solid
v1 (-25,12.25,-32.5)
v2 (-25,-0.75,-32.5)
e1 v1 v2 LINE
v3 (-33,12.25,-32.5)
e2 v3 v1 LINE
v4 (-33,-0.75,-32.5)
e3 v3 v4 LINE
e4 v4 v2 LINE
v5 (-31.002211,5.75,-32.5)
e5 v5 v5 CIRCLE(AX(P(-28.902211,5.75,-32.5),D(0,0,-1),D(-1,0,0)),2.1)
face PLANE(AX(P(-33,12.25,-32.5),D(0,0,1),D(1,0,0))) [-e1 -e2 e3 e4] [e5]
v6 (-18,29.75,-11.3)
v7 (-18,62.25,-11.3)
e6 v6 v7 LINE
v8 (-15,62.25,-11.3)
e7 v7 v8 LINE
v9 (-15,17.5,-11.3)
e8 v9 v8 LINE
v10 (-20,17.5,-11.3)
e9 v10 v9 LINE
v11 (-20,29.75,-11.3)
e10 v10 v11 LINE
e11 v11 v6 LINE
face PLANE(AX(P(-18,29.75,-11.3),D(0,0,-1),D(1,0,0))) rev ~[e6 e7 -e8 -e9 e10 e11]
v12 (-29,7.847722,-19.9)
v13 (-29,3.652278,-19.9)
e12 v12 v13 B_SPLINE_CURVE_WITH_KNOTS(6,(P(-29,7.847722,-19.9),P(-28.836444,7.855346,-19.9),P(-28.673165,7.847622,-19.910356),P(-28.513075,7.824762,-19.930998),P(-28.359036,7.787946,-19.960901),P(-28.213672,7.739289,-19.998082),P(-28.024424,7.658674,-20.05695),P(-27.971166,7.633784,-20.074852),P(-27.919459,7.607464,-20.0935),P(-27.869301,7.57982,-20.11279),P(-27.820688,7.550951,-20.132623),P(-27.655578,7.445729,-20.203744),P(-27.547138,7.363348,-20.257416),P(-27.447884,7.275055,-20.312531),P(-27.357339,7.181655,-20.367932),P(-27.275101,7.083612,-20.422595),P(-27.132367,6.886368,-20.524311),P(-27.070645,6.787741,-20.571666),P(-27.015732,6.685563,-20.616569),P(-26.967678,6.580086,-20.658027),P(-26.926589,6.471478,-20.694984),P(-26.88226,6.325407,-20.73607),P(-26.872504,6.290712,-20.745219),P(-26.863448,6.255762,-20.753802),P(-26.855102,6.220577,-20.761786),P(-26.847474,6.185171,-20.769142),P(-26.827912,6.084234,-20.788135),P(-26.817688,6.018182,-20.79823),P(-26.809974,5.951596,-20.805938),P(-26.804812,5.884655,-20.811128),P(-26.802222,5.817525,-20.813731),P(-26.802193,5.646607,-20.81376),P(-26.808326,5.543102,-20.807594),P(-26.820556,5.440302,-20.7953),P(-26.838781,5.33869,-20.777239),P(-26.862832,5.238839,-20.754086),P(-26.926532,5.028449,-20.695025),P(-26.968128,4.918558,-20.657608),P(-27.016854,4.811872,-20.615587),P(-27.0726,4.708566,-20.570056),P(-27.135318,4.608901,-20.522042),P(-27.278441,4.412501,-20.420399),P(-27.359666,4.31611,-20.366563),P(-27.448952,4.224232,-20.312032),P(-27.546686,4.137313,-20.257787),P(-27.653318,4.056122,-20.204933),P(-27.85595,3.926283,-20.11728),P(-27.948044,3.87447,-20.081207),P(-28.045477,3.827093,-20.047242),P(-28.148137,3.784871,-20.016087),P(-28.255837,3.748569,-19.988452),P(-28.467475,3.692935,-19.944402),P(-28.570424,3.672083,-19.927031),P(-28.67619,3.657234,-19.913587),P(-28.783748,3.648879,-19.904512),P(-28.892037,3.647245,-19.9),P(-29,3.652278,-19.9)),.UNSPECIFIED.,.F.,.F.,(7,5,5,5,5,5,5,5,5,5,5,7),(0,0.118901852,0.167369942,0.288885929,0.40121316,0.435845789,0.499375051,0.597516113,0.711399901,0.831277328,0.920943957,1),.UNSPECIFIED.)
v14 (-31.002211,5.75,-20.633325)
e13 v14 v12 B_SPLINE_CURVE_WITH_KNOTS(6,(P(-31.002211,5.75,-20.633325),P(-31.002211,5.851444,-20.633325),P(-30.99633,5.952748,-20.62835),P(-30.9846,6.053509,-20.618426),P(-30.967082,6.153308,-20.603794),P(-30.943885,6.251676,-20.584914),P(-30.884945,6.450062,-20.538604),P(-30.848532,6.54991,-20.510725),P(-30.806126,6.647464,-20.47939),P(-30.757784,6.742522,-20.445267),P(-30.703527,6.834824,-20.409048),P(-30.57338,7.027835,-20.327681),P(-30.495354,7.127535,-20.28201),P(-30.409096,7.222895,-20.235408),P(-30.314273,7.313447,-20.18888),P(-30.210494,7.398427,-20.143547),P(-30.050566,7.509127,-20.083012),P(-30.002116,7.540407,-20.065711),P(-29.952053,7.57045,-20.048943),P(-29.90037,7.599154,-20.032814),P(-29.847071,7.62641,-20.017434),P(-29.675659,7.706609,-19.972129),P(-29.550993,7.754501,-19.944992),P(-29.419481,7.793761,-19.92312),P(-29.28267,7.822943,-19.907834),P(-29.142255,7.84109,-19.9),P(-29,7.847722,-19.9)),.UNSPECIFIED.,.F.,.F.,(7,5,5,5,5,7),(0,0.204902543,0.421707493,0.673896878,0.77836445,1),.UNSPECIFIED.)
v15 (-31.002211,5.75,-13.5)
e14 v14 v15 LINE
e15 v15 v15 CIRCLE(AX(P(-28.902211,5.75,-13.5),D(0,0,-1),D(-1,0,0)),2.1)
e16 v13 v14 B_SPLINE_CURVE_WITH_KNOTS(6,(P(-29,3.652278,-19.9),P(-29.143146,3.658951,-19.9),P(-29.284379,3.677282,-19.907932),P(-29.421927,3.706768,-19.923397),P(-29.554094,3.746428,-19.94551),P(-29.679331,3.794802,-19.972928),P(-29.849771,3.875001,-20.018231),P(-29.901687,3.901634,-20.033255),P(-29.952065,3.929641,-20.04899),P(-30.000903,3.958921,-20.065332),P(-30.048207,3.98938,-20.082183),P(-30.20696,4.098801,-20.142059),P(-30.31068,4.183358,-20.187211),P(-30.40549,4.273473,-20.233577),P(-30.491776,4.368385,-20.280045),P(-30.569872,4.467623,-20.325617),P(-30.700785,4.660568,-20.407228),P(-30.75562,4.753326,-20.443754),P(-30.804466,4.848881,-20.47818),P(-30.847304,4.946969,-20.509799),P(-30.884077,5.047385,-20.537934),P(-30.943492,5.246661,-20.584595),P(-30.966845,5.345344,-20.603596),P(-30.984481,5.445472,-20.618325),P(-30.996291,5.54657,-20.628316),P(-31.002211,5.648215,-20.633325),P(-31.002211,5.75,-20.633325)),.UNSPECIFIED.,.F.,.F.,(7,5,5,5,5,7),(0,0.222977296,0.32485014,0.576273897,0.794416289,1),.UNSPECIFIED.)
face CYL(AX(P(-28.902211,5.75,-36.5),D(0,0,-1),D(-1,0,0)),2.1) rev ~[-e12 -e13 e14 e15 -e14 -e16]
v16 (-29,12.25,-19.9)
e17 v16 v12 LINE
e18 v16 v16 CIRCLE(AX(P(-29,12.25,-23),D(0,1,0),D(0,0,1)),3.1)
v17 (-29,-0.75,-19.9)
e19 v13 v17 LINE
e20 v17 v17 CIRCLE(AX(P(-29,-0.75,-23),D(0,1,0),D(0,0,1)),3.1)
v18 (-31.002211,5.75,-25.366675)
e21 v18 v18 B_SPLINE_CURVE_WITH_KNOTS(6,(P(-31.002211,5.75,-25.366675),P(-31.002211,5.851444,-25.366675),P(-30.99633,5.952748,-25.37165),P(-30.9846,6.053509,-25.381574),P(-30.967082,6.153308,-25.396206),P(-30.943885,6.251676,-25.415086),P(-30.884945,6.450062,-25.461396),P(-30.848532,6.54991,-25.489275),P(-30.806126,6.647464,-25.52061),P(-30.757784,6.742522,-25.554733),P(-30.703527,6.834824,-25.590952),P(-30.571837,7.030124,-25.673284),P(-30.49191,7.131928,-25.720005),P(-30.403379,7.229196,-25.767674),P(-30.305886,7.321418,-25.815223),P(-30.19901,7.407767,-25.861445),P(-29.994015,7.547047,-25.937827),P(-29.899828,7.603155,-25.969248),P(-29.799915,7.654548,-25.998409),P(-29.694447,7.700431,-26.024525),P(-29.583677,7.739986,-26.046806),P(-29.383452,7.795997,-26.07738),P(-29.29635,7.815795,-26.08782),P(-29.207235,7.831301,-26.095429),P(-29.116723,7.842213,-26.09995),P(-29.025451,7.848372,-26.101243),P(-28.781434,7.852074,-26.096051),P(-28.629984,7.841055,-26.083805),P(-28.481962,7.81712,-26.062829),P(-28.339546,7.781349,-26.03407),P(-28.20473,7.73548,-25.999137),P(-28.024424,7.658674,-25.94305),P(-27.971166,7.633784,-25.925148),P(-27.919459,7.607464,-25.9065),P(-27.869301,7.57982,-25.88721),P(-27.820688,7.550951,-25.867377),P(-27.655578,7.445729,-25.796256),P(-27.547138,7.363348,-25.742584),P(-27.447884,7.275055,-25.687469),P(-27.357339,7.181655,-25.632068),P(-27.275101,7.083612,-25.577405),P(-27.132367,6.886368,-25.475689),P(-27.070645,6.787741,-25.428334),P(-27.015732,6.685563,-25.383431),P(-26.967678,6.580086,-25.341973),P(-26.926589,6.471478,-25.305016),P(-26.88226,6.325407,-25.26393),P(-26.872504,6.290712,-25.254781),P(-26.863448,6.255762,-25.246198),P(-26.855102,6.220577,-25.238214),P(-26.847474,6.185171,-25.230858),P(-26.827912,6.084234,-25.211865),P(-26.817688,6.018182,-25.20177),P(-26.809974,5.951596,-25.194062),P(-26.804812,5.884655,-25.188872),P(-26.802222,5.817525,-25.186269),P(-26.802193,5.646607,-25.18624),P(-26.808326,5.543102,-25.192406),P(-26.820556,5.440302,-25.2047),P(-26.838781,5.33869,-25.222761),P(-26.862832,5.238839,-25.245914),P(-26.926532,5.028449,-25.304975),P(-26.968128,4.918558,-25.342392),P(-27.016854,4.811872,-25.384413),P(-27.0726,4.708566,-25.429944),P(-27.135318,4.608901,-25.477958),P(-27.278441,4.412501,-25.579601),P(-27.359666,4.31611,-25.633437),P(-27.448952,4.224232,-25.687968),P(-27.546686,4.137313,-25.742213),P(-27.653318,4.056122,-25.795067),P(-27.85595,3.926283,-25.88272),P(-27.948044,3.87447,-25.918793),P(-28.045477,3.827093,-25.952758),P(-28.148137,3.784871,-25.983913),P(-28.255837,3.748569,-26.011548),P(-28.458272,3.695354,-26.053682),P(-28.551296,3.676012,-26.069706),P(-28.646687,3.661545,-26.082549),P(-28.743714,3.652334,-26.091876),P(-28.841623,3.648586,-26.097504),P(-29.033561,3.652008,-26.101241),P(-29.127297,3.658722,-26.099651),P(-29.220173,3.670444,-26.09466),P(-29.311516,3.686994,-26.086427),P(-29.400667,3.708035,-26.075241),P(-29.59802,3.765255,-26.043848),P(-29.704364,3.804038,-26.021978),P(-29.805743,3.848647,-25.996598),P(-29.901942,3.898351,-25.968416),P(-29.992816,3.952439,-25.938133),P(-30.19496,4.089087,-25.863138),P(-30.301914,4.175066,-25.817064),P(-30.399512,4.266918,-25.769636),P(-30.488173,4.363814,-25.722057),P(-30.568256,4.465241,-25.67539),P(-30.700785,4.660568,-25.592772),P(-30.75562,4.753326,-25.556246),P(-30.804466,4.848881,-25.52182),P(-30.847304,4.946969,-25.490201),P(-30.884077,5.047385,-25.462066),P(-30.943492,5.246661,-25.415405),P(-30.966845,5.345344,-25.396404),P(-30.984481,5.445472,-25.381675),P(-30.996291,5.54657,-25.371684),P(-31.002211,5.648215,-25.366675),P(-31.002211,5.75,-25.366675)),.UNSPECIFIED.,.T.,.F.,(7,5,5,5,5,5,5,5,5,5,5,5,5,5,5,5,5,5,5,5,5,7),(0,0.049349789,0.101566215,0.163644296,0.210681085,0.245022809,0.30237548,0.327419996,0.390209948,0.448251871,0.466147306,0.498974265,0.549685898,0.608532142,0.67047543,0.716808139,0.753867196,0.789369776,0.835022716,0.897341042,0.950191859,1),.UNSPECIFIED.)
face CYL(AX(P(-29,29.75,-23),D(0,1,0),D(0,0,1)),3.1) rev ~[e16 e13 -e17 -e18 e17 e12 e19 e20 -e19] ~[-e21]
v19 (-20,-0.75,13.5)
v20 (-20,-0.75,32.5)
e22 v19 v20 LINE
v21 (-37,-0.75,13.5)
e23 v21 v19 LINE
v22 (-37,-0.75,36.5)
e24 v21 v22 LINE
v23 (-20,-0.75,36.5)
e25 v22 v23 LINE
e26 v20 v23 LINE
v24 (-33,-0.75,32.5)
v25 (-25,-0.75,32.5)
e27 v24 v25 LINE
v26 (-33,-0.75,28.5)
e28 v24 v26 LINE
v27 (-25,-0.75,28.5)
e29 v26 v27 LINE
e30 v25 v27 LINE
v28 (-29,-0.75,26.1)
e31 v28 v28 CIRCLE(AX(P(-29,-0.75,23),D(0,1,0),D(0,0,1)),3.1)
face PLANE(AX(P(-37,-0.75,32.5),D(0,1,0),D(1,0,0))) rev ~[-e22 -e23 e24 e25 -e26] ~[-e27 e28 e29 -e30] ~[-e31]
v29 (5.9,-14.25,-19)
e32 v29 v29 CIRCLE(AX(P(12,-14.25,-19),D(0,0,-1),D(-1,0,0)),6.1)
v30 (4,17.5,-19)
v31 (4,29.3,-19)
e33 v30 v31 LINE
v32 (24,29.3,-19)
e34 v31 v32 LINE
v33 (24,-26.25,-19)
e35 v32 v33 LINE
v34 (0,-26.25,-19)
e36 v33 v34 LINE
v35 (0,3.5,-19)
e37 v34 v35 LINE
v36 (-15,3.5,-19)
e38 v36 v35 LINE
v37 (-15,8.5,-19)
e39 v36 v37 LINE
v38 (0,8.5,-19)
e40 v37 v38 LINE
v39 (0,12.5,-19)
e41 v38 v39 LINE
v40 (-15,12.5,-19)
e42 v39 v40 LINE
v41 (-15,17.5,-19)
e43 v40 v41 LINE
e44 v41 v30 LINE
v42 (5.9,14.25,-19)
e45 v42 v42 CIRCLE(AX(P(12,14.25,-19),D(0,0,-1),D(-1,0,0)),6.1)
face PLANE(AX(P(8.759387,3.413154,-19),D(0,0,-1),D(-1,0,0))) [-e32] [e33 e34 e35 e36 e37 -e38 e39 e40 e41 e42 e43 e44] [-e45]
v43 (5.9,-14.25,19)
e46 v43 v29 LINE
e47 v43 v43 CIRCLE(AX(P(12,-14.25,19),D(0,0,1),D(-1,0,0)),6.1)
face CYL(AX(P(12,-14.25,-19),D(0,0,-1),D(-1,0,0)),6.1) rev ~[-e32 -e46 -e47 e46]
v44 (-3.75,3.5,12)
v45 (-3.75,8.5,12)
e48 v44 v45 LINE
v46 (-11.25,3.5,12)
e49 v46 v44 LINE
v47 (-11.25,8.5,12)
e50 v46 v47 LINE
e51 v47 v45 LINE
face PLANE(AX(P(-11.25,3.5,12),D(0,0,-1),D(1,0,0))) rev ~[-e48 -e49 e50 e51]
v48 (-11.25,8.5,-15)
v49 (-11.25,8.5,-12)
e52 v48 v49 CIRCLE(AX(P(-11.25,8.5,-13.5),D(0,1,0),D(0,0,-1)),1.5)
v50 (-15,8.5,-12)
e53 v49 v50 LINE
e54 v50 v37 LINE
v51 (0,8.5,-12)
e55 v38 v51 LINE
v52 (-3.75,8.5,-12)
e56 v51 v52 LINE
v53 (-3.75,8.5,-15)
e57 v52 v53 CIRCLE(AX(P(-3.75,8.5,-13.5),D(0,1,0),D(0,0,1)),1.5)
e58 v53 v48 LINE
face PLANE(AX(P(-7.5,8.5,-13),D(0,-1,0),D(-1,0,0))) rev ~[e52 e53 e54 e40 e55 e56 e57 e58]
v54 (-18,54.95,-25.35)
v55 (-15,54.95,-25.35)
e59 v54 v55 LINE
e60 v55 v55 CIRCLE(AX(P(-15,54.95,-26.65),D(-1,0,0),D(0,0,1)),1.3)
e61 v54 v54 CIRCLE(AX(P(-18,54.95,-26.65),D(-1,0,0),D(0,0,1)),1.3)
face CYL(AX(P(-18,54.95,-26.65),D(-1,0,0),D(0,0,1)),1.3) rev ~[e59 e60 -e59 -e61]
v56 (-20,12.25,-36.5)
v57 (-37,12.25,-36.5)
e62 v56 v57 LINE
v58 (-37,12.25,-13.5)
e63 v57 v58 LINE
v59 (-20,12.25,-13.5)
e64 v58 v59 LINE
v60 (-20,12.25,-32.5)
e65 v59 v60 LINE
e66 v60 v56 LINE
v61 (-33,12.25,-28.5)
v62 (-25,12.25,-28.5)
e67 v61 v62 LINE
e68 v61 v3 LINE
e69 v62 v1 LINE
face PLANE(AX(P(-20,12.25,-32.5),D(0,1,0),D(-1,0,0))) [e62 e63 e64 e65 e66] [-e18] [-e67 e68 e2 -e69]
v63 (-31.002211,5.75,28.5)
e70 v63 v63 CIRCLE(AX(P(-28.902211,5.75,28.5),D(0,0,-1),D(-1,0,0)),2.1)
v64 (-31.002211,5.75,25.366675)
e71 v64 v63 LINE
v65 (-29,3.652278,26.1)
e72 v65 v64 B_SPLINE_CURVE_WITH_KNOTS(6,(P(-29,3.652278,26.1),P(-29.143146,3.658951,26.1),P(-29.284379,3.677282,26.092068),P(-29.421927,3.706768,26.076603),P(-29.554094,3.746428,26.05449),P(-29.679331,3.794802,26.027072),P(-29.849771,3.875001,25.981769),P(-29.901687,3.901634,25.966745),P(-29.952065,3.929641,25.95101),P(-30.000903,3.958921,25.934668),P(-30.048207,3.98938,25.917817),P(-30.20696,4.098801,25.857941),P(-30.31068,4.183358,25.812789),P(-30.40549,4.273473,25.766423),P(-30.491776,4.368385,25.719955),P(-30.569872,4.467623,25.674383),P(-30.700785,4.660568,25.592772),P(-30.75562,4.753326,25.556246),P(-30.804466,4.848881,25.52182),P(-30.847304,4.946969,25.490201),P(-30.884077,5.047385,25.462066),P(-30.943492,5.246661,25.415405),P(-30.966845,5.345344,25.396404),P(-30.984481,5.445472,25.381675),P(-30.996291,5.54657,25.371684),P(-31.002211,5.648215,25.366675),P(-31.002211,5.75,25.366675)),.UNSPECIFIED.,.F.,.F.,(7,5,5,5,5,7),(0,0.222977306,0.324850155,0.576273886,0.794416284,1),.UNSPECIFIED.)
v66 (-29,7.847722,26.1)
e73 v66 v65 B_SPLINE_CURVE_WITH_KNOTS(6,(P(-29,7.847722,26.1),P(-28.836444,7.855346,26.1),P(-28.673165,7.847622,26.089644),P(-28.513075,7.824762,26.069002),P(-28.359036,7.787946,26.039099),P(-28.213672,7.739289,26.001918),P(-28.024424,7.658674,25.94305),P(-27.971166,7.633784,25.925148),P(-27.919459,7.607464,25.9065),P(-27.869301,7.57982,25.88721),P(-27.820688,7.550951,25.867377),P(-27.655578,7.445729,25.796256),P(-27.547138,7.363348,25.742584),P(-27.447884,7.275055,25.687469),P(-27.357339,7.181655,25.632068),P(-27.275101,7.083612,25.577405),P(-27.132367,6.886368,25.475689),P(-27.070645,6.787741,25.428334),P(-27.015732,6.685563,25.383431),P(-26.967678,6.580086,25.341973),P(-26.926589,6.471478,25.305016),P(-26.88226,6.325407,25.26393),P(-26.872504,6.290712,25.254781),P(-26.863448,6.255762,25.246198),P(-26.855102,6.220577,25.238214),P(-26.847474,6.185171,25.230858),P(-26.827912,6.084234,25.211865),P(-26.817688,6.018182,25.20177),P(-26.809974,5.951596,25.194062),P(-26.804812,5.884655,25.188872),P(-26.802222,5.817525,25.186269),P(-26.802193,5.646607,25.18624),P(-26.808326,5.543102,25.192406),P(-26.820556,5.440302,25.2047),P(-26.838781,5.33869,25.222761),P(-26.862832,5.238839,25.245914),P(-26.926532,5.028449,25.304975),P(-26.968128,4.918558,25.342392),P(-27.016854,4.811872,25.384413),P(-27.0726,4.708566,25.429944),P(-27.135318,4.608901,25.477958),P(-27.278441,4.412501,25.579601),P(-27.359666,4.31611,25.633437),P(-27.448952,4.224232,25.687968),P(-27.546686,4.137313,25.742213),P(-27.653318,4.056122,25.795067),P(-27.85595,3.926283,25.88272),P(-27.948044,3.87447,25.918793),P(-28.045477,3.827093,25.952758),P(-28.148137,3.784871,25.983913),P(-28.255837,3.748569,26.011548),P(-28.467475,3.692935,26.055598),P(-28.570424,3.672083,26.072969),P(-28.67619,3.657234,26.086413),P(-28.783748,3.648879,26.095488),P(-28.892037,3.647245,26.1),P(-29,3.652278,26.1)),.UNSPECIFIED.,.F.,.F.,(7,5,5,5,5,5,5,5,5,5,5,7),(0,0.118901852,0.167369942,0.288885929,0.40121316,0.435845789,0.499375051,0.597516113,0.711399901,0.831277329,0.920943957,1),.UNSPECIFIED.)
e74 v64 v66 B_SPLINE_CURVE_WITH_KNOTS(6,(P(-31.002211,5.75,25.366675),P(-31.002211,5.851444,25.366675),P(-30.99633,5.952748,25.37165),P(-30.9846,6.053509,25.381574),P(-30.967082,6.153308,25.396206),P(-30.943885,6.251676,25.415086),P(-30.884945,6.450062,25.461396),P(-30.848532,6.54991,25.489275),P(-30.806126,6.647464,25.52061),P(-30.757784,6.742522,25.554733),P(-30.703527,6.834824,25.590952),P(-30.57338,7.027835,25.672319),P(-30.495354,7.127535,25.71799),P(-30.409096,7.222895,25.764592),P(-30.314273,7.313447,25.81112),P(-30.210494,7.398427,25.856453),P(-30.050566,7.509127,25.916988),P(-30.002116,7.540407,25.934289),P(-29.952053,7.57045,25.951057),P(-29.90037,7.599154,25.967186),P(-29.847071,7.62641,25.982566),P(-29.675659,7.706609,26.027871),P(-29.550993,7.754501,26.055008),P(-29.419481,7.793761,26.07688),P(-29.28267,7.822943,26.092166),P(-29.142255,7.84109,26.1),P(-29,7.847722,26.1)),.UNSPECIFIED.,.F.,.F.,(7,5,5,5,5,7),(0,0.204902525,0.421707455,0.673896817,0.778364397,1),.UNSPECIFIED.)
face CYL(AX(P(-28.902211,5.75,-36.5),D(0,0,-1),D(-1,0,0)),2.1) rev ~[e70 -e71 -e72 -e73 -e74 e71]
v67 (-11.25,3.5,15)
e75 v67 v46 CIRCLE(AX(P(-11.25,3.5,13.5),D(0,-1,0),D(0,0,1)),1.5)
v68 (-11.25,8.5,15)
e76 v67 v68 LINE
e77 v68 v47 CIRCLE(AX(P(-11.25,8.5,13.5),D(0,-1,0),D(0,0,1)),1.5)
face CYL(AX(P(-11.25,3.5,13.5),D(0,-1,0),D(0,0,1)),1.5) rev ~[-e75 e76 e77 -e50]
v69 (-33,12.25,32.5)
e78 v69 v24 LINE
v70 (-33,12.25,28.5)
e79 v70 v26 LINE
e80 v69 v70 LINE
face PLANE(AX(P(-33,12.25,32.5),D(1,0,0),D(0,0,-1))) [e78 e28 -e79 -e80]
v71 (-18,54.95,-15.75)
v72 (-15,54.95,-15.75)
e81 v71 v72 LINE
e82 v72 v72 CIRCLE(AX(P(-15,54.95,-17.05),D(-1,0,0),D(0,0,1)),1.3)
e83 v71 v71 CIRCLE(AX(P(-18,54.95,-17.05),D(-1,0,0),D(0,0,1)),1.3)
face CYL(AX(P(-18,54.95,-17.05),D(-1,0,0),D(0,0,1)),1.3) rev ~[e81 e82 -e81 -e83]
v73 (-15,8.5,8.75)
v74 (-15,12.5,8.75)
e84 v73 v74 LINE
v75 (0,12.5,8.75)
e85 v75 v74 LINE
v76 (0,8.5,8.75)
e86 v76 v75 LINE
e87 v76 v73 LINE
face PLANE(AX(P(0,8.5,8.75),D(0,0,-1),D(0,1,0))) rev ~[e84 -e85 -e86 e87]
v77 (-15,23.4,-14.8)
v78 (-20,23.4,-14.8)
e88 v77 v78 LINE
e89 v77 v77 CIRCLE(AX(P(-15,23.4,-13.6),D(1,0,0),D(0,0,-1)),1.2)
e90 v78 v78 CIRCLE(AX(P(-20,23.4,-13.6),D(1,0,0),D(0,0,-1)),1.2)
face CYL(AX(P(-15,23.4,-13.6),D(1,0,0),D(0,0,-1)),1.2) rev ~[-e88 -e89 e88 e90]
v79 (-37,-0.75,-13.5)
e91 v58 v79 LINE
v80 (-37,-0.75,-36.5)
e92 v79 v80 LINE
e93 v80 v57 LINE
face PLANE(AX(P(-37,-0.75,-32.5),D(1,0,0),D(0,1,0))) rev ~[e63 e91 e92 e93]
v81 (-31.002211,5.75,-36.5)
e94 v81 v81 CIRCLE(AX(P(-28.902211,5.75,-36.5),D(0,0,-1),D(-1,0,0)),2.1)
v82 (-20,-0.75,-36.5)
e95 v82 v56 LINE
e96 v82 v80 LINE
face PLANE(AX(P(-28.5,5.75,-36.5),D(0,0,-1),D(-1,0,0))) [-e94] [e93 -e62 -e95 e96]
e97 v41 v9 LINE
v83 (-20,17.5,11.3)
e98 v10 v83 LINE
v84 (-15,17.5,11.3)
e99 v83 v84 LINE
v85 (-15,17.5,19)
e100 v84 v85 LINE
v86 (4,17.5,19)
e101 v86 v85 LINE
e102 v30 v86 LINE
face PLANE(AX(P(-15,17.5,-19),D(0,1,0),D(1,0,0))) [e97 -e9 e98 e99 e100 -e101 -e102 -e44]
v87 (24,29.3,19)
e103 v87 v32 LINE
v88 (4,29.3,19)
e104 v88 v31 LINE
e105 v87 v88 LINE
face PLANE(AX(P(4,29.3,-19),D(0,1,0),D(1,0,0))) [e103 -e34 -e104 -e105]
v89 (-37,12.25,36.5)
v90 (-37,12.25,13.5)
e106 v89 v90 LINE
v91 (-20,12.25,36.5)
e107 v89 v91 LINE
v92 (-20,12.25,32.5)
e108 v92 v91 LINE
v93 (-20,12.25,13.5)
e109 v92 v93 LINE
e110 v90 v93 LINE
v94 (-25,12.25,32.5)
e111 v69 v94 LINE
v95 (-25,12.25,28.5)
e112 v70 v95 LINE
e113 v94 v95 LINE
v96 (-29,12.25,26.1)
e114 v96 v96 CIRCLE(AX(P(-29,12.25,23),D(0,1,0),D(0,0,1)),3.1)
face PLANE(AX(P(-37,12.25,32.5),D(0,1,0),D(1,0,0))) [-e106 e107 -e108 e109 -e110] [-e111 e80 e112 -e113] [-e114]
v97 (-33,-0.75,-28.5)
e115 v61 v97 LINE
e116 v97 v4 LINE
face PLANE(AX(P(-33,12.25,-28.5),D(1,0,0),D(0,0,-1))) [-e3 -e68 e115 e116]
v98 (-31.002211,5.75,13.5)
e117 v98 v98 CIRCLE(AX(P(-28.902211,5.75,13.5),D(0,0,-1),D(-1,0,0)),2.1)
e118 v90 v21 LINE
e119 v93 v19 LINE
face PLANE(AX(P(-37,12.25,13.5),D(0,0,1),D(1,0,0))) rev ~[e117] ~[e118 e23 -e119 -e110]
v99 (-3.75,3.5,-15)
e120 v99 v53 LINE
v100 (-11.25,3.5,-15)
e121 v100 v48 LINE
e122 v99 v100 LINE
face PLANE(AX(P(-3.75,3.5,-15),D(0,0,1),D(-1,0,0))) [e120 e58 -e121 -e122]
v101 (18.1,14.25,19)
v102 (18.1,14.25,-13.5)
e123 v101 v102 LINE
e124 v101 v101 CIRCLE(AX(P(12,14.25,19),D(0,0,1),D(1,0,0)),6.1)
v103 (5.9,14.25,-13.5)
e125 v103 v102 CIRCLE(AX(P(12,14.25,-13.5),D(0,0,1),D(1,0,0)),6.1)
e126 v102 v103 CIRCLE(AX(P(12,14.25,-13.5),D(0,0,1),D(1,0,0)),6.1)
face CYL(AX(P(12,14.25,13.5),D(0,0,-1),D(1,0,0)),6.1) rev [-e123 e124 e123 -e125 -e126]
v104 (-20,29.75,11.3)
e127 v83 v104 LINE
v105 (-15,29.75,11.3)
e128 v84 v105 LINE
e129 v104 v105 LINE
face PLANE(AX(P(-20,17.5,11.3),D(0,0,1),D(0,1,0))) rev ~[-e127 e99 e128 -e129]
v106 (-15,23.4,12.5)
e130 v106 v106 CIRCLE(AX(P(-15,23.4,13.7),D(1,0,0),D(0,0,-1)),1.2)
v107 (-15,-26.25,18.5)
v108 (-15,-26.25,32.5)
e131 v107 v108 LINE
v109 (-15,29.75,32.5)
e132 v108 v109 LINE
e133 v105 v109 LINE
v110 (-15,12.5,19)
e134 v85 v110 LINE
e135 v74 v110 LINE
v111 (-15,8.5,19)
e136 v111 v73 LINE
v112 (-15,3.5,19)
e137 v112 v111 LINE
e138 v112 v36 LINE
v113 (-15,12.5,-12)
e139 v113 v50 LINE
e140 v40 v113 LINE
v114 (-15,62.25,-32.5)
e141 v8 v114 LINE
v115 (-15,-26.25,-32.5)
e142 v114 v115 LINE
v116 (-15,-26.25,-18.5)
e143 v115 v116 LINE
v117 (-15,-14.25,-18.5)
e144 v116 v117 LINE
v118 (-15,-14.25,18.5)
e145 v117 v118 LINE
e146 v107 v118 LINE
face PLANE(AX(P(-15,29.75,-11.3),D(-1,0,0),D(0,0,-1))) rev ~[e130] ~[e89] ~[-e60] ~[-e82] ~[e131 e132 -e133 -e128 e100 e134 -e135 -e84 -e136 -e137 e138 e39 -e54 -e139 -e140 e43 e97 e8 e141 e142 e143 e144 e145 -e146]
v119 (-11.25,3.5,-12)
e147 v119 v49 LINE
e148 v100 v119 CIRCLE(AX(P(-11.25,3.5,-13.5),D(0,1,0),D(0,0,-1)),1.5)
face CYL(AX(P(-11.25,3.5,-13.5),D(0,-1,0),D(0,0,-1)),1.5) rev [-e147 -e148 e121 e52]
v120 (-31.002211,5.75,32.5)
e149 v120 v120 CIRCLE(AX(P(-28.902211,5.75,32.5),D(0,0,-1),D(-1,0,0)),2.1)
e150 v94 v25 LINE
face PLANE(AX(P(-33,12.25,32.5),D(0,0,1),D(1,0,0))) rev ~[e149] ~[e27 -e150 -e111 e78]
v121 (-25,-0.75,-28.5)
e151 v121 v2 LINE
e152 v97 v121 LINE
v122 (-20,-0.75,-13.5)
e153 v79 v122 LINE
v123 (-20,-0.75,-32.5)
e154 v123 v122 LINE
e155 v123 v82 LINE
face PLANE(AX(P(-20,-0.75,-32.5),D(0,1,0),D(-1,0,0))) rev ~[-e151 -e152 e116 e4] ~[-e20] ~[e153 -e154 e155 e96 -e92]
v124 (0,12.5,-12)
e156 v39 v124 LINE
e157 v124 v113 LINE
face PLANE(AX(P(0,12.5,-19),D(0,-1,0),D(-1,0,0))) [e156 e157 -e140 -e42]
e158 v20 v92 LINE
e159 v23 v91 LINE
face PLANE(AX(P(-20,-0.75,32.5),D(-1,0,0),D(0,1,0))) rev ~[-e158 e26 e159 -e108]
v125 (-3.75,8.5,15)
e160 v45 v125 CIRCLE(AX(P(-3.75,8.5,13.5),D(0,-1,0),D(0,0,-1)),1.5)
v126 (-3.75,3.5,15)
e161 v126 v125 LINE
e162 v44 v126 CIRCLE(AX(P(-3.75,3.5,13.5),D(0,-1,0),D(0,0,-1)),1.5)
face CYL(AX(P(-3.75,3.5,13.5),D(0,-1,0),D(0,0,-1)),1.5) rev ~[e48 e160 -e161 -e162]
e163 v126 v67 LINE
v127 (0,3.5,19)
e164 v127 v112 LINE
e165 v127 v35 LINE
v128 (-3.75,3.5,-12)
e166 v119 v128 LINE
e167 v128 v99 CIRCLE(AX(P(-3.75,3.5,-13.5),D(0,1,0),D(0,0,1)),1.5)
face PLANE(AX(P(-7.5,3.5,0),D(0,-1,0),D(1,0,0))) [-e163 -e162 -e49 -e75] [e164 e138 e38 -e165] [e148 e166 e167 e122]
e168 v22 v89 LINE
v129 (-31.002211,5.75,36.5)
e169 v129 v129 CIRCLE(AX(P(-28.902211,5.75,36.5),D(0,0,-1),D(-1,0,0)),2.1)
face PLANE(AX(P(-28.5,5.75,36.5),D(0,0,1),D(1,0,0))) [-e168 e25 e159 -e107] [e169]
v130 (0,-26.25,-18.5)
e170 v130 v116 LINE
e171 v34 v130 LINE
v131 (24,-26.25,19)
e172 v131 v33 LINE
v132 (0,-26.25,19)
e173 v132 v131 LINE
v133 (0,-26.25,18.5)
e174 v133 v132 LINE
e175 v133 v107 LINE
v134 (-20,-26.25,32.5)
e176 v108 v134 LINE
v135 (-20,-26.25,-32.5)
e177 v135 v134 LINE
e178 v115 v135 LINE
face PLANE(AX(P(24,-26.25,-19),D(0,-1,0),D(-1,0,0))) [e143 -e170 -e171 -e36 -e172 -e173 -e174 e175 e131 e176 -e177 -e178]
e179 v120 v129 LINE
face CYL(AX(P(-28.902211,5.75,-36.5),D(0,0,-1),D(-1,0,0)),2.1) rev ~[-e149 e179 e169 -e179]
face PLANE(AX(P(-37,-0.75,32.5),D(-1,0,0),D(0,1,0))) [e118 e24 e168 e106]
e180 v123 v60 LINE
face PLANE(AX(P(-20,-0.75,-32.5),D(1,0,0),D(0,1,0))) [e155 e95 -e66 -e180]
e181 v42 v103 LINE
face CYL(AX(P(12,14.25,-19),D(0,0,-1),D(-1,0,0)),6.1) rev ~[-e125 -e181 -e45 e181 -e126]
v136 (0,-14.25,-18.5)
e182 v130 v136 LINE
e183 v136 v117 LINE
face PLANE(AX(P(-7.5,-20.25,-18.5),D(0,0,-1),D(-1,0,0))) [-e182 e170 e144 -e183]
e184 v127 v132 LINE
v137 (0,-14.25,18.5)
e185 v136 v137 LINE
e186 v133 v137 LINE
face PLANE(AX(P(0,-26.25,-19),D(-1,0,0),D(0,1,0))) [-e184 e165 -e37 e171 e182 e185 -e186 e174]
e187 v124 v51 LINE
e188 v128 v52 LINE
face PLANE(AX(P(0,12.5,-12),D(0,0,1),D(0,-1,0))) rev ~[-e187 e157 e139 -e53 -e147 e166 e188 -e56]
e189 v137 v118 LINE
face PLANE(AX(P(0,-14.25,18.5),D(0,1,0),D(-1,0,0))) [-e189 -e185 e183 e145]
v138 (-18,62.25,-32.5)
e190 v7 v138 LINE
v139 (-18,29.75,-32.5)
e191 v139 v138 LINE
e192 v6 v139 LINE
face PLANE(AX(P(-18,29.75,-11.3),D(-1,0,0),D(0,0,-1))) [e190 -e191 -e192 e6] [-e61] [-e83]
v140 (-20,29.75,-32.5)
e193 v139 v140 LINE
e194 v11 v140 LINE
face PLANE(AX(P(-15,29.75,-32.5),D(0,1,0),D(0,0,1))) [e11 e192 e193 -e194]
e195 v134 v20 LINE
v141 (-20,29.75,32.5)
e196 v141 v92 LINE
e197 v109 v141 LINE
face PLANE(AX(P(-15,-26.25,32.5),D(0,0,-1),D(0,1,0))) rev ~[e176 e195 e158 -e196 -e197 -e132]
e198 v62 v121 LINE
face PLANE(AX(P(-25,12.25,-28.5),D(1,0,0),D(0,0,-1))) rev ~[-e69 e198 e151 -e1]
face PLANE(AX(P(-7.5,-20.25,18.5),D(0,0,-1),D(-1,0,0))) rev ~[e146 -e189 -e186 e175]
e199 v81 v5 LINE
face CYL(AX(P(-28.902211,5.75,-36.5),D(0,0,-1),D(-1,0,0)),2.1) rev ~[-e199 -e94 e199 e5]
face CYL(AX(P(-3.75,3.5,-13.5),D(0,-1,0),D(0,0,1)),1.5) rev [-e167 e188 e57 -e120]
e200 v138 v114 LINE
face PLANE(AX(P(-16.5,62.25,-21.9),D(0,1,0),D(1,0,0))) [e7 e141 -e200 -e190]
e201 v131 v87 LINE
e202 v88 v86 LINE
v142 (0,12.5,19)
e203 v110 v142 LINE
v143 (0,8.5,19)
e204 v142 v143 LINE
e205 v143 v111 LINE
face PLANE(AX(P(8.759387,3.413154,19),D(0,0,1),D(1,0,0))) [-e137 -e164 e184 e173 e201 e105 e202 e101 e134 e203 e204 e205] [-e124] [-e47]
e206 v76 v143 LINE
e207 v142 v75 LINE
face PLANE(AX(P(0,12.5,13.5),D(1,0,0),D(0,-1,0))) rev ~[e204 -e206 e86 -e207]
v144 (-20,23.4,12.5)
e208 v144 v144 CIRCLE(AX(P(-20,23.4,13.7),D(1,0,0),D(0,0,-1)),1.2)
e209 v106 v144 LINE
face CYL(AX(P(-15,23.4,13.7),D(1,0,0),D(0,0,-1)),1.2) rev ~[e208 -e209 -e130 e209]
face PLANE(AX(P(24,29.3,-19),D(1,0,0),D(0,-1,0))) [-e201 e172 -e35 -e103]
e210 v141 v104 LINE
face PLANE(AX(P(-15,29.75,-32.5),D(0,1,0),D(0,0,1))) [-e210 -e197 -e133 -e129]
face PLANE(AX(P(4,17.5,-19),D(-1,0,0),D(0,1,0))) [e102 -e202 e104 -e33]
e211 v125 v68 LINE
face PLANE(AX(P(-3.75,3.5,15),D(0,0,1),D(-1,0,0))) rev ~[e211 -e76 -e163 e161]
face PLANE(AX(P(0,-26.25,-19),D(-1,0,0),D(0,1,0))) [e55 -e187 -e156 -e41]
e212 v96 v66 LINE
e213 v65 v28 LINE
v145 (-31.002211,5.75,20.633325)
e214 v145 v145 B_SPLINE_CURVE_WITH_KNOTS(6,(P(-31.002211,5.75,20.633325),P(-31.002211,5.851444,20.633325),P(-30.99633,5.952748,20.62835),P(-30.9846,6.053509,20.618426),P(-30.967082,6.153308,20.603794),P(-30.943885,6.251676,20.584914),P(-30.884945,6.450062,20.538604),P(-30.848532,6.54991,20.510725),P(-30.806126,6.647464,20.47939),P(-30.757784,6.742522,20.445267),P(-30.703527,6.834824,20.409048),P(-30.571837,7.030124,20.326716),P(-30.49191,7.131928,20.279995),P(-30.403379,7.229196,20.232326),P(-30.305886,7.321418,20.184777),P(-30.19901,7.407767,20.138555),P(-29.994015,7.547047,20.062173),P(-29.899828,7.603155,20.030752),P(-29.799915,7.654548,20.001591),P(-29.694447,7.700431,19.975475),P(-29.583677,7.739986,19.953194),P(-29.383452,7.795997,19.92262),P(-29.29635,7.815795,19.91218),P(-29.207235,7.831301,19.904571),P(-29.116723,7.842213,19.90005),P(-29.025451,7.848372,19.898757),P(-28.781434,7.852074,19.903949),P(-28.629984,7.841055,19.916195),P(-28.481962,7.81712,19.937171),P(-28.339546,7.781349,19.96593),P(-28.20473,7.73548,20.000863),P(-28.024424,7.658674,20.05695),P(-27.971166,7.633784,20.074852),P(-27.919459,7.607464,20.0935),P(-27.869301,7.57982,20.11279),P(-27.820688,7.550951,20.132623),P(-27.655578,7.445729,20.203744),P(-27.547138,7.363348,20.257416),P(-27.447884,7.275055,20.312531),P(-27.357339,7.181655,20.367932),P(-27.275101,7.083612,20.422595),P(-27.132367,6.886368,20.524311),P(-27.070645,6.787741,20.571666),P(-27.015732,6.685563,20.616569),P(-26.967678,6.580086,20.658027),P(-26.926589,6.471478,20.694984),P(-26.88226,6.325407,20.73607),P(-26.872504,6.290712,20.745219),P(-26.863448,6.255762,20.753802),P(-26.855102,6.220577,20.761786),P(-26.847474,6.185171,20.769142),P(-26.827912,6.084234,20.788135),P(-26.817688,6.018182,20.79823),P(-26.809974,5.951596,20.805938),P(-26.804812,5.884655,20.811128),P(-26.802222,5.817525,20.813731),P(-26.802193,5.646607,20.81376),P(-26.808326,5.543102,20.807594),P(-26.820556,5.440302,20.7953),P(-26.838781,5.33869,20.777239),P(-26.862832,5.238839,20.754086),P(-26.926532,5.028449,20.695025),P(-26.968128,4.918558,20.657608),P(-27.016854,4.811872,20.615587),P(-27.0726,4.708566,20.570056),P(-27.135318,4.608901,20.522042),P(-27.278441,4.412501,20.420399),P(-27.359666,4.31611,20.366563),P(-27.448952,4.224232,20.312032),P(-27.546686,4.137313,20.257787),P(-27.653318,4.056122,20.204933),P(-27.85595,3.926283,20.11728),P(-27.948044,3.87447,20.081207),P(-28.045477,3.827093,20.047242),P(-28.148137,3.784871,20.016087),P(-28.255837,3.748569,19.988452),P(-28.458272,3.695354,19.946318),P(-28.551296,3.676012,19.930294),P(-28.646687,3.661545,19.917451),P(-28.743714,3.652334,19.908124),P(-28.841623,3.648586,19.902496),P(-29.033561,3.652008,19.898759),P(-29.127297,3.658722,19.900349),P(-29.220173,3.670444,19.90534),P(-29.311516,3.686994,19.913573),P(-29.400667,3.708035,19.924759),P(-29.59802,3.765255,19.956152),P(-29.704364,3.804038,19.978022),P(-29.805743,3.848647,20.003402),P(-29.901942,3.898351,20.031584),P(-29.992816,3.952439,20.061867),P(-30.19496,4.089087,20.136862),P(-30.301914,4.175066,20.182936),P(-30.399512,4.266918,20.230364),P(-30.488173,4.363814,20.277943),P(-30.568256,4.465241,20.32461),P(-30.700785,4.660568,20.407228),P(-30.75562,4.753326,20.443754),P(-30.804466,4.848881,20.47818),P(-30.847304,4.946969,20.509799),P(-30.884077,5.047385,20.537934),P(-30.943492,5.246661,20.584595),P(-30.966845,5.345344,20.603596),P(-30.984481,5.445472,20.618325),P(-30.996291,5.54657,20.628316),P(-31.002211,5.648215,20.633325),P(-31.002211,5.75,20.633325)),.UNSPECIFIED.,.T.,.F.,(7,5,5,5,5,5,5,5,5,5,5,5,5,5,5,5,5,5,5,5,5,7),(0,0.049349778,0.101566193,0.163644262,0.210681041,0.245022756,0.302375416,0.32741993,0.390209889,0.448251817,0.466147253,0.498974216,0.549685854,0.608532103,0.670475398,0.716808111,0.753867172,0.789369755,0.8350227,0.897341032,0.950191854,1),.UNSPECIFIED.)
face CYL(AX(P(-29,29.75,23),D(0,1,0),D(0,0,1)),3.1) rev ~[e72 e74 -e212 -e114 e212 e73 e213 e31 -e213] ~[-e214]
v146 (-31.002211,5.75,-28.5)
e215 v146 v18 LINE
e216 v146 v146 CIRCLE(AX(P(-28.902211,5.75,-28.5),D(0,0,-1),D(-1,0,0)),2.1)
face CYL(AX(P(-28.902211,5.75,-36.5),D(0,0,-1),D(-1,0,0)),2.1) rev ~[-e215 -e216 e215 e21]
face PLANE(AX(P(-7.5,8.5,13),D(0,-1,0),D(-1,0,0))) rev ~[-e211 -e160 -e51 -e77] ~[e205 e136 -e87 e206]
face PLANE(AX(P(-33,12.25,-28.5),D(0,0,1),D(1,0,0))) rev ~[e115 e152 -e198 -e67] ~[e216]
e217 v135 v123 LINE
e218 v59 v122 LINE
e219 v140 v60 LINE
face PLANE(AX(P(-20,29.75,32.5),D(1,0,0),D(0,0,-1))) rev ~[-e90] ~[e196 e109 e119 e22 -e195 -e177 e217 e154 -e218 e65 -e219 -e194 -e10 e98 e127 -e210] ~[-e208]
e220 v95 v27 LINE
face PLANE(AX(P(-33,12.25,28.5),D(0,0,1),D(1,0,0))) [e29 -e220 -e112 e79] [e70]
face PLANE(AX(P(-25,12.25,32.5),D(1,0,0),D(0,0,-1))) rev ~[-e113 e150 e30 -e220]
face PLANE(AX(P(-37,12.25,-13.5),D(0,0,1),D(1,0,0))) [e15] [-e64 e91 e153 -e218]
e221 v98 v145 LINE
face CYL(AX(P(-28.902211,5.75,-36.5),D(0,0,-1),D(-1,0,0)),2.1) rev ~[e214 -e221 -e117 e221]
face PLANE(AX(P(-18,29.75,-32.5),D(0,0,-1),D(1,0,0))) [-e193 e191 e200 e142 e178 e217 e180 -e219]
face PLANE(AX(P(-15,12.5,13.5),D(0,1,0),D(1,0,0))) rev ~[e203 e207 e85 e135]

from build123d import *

# Parameters (mm, degrees)
SKETCH1_W                = 24
SKETCH1_H                = 52.5
SKETCH1_R                = 6.1
BOSS_EXTRUDE1_DEPTH      = 13.5
BOSS_EXTRUDE2_DEPTH      = 3
BOSS_EXTRUDE2_DEPTH_BACK = 2
SKETCH3_W                = 27
SKETCH3_H                = 18
BOSS_EXTRUDE3_DEPTH      = 15
SKETCH4_W                = 32
SKETCH4_H                = 12
CUT_EXTRUDE2_DEPTH       = 18
SKETCH6_W                = 65
SKETCH6_H                = 56
BOSS_EXTRUDE4_DEPTH      = 22
SKETCH7_R                = 3.1
CUT_EXTRUDE3_DEPTH       = 75.573788961
SKETCH8_W                = 17
SKETCH8_H                = 65
CUT_EXTRUDE4_DEPTH       = 17.5
SKETCH11_W               = 22.6
SKETCH11_H               = 12.25
CUT_EXTRUDE6_DEPTH       = 5
SKETCH12_W               = 17
SKETCH12_H               = 27
CUT_EXTRUDE7_DEPTH       = 63.5099992
SKETCH13_W               = 17
SKETCH13_H               = 65
CUT_EXTRUDE8_DEPTH       = 25.5
SKETCH16_W               = 15
SKETCH16_H               = 27
CUT_EXTRUDE9_DEPTH       = 6
BOSS_EXTRUDE5_DEPTH      = 5
BOSS_EXTRUDE5_DEPTH_BACK = 32
SKETCH17_W               = 15
SKETCH17_H               = 12
SKETCH19_W               = 21
SKETCH19_H               = 27
BOSS_EXTRUDE6_DEPTH      = 3.05
SKETCH20_W               = 1
SKETCH20_H               = 11.8
CUT_EXTRUDE11_DEPTH      = 67.106448248
SKETCH21_R               = 1.2
CUT_EXTRUDE12_DEPTH      = 10
SKETCH23_W               = 17
SKETCH23_H               = 13
BOSS_EXTRUDE7_DEPTH      = 4
SKETCH24_W               = 17
SKETCH24_H               = 13
BOSS_EXTRUDE8_DEPTH      = 4
SKETCH25_R               = 2.1
CUT_EXTRUDE14_DEPTH      = 88.080781462
SKETCH26_W               = 8
SKETCH26_H               = 4
CUT_EXTRUDE15_DEPTH      = 65.679981504
SKETCH27_W               = 3
SKETCH27_H               = 21.2
BOSS_EXTRUDE9_DEPTH      = 32.5
SKETCH28_R               = 1.3
CUT_EXTRUDE16_DEPTH      = 84.494386039
SKETCH30_W               = 15
SKETCH30_H               = 14
BOSS_EXTRUDE11_DEPTH     = 2
SKETCH31_R               = 6.1
BOSS_EXTRUDE13_DEPTH     = 5.5
BOSS_EXTRUDE14_START     = 5.5
SKETCH32_R               = 6.1
BOSS_EXTRUDE14_DEPTH     = 5.5


with BuildPart() as part:
    # Sketch1 → Boss-Extrude1 (new, symmetric)
    with BuildSketch(Plane.XY):
        with Locations((12, 0)):
            Rectangle(SKETCH1_W, SKETCH1_H)
        with Locations((12, 14.25)):
            Circle(SKETCH1_R, mode=Mode.SUBTRACT)
        with Locations(Location((12, -14.25, 0), (0, 0, 180))):
            Circle(SKETCH1_R, mode=Mode.SUBTRACT)
    extrude(amount=BOSS_EXTRUDE1_DEPTH, both=True)

    # Sketch2 → Boss-Extrude2 (add, two sides: drawn at the far end of the back side and taken through both)
    # profile 1 of 2: a face of its own
    with BuildSketch(Plane(origin=(0, 5.5, 0), x_dir=(1, 0, 0), z_dir=(0, 1, 0)).offset(-BOSS_EXTRUDE2_DEPTH_BACK)):
        Polygon((-4, -7), (0, -7), (0, -19), (-15, -19), (-15, -7), (-11, -7), align=None)
        with BuildLine():
            Line((-11.25, -12), (-3.75, -12))
            ThreePointArc((-3.75, -12), (-2.25, -13.5), (-3.75, -15))
            Line((-3.75, -15), (-11.25, -15))
            ThreePointArc((-11.25, -15), (-12.75, -13.5), (-11.25, -12))
        make_face(mode=Mode.SUBTRACT)
    # profile 2 of 2: a face of its own
    with BuildSketch(Plane(origin=(0, 5.5, 0), x_dir=(1, 0, 0), z_dir=(0, 1, 0)).offset(-BOSS_EXTRUDE2_DEPTH_BACK)):
        Polygon((-4, 7), (-11, 7), (-15, 7), (-15, 19), (0, 19), (0, 7), align=None)
        with BuildLine():
            ThreePointArc((-3.75, 12), (-2.25, 13.5), (-3.75, 15))
            Line((-3.75, 15), (-11.25, 15))
            ThreePointArc((-11.25, 15), (-12.75, 13.5), (-11.25, 12))
            Line((-11.25, 12), (-3.75, 12))
        make_face(mode=Mode.SUBTRACT)
    extrude(amount=BOSS_EXTRUDE2_DEPTH + BOSS_EXTRUDE2_DEPTH_BACK)

    # Sketch3 → Boss-Extrude3 (add)
    with BuildSketch(Plane.ZY):
        Polygon((13.5, 26.25), (-13.5, 26.25), (-13.5, 12.5), (-12, 12.5), (8.75, 12.5), (13.5, 12.5), align=None)
        Polygon((8.75, 12.5), (-12, 12.5), (-12, 8.5), (-7, 8.5), (-7, 5.5), (7, 5.5), (7, 8.5), (8.75, 8.5), align=None)
        with Locations((0, -17.25)):
            Rectangle(SKETCH3_W, SKETCH3_H)
    extrude(amount=BOSS_EXTRUDE3_DEPTH)

    # Sketch4 → Cut-Extrude2 (cut)
    with BuildSketch(Plane.ZY.offset(15)):
        with Locations((0, 23.5)):
            Rectangle(SKETCH4_W, SKETCH4_H)
    extrude(amount=-CUT_EXTRUDE2_DEPTH, mode=Mode.SUBTRACT)

    # Sketch6 → Boss-Extrude4 (add)
    with BuildSketch(Plane.ZY.offset(15)):
        with Locations((0, 1.75)):
            Rectangle(SKETCH6_W, SKETCH6_H)
    extrude(amount=BOSS_EXTRUDE4_DEPTH)

    # Sketch7 → Cut-Extrude3 (cut, through all)
    with BuildSketch(Plane(origin=(0, 29.75, 0), x_dir=(1, 0, 0), z_dir=(0, 1, 0))):
        with Locations(Location((-29, 23, 0), (0, 0, 270))):
            Circle(SKETCH7_R)
        with Locations(Location((-29, -23, 0), (0, 0, 270))):
            Circle(SKETCH7_R)
    extrude(amount=-CUT_EXTRUDE3_DEPTH, mode=Mode.SUBTRACT)

    # Sketch8 → Cut-Extrude4 (cut)
    with BuildSketch(Plane(origin=(0, 29.75, 0), x_dir=(1, 0, 0), z_dir=(0, 1, 0))):
        with Locations((-28.5, 0)):
            Rectangle(SKETCH8_W, SKETCH8_H)
    extrude(amount=-CUT_EXTRUDE4_DEPTH, mode=Mode.SUBTRACT)

    # Sketch11 → Cut-Extrude6 (cut)
    with BuildSketch(Plane.ZY.offset(20)):
        with Locations((0, 23.625)):
            Rectangle(SKETCH11_W, SKETCH11_H)
    extrude(amount=-CUT_EXTRUDE6_DEPTH, mode=Mode.SUBTRACT)

    # Sketch12 → Cut-Extrude7 (cut, through all)
    with BuildSketch(Plane(origin=(0, 12.25, 0), x_dir=(1, 0, 0), z_dir=(0, 1, 0))):
        with Locations((-28.5, 0)):
            Rectangle(SKETCH12_W, SKETCH12_H)
    extrude(amount=-CUT_EXTRUDE7_DEPTH, mode=Mode.SUBTRACT)

    # Sketch13 → Cut-Extrude8 (cut)
    with BuildSketch(Plane.XZ.offset(26.25)):
        with Locations((-28.5, 0)):
            Rectangle(SKETCH13_W, SKETCH13_H)
    extrude(amount=-CUT_EXTRUDE8_DEPTH, mode=Mode.SUBTRACT)

    # Sketch16 → Cut-Extrude9 (cut)
    with BuildSketch(Plane(origin=(0, -8.25, 0), x_dir=(1, 0, 0), z_dir=(0, 1, 0))):
        with Locations((-7.5, 0)):
            Rectangle(SKETCH16_W, SKETCH16_H)
    extrude(amount=-CUT_EXTRUDE9_DEPTH, mode=Mode.SUBTRACT)

    # Sketch17 → Boss-Extrude5 (add, two sides: drawn at the far end of the back side and taken through both)
    with BuildSketch(Plane(origin=(0, 0, -13.5), x_dir=(-1, 0, 0), z_dir=(0, 0, -1)).offset(-BOSS_EXTRUDE5_DEPTH_BACK)):
        with Locations((7.5, -20.25)):
            Rectangle(SKETCH17_W, SKETCH17_H)
    extrude(amount=BOSS_EXTRUDE5_DEPTH + BOSS_EXTRUDE5_DEPTH_BACK)

    # Sketch19 → Boss-Extrude6 (add)
    with BuildSketch(Plane(origin=(0, 26.25, 0), x_dir=(1, 0, 0), z_dir=(0, 1, 0))):
        with Locations((13.5, 0)):
            Rectangle(SKETCH19_W, SKETCH19_H)
    extrude(amount=BOSS_EXTRUDE6_DEPTH)

    # Sketch20 → Cut-Extrude11 (cut, through all)
    with BuildSketch(Plane.XY.offset(13.5)):
        with Locations((3.5, 23.4)):
            Rectangle(SKETCH20_W, SKETCH20_H)
    extrude(amount=-CUT_EXTRUDE11_DEPTH, mode=Mode.SUBTRACT)

    # Sketch21 → Cut-Extrude12 (cut)
    with BuildSketch(Plane(origin=(-15, 0, 0), x_dir=(0, 0, -1), z_dir=(1, 0, 0))):
        with Locations((-13.7, 23.4)):
            Circle(SKETCH21_R)
        with Locations((13.6, 23.4)):
            Circle(SKETCH21_R)
    extrude(amount=-CUT_EXTRUDE12_DEPTH, mode=Mode.SUBTRACT)

    # Sketch23 → Boss-Extrude7 (add)
    with BuildSketch(Plane(origin=(0, 0, -32.5), x_dir=(-1, 0, 0), z_dir=(0, 0, -1))):
        with Locations((28.5, 5.75)):
            Rectangle(SKETCH23_W, SKETCH23_H)
    extrude(amount=BOSS_EXTRUDE7_DEPTH)

    # Sketch24 → Boss-Extrude8 (add)
    with BuildSketch(Plane.XY.offset(32.5)):
        with Locations((-28.5, 5.75)):
            Rectangle(SKETCH24_W, SKETCH24_H)
    extrude(amount=BOSS_EXTRUDE8_DEPTH)

    # Sketch25 → Cut-Extrude14 (cut, through all)
    with BuildSketch(Plane(origin=(0, 0, -36.5), x_dir=(-1, 0, 0), z_dir=(0, 0, -1))):
        with Locations((28.902210775, 5.75)):
            Circle(SKETCH25_R)
    extrude(amount=-CUT_EXTRUDE14_DEPTH, mode=Mode.SUBTRACT)

    # Sketch26 → Cut-Extrude15 (cut, through all)
    with BuildSketch(Plane(origin=(0, 12.25, 0), x_dir=(1, 0, 0), z_dir=(0, 1, 0))):
        with Locations((-29, -30.5)):
            Rectangle(SKETCH26_W, SKETCH26_H)
        with Locations((-29, 30.5)):
            Rectangle(SKETCH26_W, SKETCH26_H)
    extrude(amount=-CUT_EXTRUDE15_DEPTH, mode=Mode.SUBTRACT)

    # Sketch27 → Boss-Extrude9 (add)
    with BuildSketch(Plane(origin=(0, 29.75, 0), x_dir=(1, 0, 0), z_dir=(0, 1, 0))):
        with Locations((-16.5, 21.9)):
            Rectangle(SKETCH27_W, SKETCH27_H)
    extrude(amount=BOSS_EXTRUDE9_DEPTH)

    # Sketch28 → Cut-Extrude16 (cut, through all)
    with BuildSketch(Plane.ZY.offset(18)):
        with Locations((-26.65, 54.95)):
            Circle(SKETCH28_R)
        with Locations((-17.05, 54.95)):
            Circle(SKETCH28_R)
    extrude(amount=-CUT_EXTRUDE16_DEPTH, mode=Mode.SUBTRACT)

    # Sketch30 → Boss-Extrude11 (add)
    with BuildSketch(Plane.XZ.offset(-5.5)):
        with Locations((-7.5, 0)):
            Rectangle(SKETCH30_W, SKETCH30_H)
    extrude(amount=BOSS_EXTRUDE11_DEPTH)

    # Sketch31 → Boss-Extrude13 (add)
    with BuildSketch(Plane.XY.offset(13.5)):
        Polygon((24, 29.3), (4, 29.3), (4, 17.5), (-15, 17.5), (-15, 12.5), (0, 12.5), (0, 8.5), (0, 3.5), (0, -14.25), (0, -26.25), (24, -26.25), align=None)
        with Locations(Location((12, -14.25, 0), (0, 0, 180))):
            Circle(SKETCH31_R, mode=Mode.SUBTRACT)
        with Locations((12, 14.25)):
            Circle(SKETCH31_R, mode=Mode.SUBTRACT)
    extrude(amount=BOSS_EXTRUDE13_DEPTH)

    # Sketch32 → Boss-Extrude14 (add)
    with BuildSketch(Plane(origin=(0, 0, -13.5), x_dir=(-1, 0, 0), z_dir=(0, 0, -1)).offset(BOSS_EXTRUDE14_START)):
        Polygon((-4, 17.5), (-4, 29.3), (-24, 29.3), (-24, -26.25), (0, -26.25), (0, -14.25), (0, 3.5), (0, 8.5), (0, 12.5), (15, 12.5), (15, 17.5), align=None)
        with Locations((-12, -14.25)):
            Circle(SKETCH32_R, mode=Mode.SUBTRACT)
        with Locations((-12, 14.25)):
            Circle(SKETCH32_R, mode=Mode.SUBTRACT)
    extrude(amount=-BOSS_EXTRUDE14_DEPTH)


solid = part.part
